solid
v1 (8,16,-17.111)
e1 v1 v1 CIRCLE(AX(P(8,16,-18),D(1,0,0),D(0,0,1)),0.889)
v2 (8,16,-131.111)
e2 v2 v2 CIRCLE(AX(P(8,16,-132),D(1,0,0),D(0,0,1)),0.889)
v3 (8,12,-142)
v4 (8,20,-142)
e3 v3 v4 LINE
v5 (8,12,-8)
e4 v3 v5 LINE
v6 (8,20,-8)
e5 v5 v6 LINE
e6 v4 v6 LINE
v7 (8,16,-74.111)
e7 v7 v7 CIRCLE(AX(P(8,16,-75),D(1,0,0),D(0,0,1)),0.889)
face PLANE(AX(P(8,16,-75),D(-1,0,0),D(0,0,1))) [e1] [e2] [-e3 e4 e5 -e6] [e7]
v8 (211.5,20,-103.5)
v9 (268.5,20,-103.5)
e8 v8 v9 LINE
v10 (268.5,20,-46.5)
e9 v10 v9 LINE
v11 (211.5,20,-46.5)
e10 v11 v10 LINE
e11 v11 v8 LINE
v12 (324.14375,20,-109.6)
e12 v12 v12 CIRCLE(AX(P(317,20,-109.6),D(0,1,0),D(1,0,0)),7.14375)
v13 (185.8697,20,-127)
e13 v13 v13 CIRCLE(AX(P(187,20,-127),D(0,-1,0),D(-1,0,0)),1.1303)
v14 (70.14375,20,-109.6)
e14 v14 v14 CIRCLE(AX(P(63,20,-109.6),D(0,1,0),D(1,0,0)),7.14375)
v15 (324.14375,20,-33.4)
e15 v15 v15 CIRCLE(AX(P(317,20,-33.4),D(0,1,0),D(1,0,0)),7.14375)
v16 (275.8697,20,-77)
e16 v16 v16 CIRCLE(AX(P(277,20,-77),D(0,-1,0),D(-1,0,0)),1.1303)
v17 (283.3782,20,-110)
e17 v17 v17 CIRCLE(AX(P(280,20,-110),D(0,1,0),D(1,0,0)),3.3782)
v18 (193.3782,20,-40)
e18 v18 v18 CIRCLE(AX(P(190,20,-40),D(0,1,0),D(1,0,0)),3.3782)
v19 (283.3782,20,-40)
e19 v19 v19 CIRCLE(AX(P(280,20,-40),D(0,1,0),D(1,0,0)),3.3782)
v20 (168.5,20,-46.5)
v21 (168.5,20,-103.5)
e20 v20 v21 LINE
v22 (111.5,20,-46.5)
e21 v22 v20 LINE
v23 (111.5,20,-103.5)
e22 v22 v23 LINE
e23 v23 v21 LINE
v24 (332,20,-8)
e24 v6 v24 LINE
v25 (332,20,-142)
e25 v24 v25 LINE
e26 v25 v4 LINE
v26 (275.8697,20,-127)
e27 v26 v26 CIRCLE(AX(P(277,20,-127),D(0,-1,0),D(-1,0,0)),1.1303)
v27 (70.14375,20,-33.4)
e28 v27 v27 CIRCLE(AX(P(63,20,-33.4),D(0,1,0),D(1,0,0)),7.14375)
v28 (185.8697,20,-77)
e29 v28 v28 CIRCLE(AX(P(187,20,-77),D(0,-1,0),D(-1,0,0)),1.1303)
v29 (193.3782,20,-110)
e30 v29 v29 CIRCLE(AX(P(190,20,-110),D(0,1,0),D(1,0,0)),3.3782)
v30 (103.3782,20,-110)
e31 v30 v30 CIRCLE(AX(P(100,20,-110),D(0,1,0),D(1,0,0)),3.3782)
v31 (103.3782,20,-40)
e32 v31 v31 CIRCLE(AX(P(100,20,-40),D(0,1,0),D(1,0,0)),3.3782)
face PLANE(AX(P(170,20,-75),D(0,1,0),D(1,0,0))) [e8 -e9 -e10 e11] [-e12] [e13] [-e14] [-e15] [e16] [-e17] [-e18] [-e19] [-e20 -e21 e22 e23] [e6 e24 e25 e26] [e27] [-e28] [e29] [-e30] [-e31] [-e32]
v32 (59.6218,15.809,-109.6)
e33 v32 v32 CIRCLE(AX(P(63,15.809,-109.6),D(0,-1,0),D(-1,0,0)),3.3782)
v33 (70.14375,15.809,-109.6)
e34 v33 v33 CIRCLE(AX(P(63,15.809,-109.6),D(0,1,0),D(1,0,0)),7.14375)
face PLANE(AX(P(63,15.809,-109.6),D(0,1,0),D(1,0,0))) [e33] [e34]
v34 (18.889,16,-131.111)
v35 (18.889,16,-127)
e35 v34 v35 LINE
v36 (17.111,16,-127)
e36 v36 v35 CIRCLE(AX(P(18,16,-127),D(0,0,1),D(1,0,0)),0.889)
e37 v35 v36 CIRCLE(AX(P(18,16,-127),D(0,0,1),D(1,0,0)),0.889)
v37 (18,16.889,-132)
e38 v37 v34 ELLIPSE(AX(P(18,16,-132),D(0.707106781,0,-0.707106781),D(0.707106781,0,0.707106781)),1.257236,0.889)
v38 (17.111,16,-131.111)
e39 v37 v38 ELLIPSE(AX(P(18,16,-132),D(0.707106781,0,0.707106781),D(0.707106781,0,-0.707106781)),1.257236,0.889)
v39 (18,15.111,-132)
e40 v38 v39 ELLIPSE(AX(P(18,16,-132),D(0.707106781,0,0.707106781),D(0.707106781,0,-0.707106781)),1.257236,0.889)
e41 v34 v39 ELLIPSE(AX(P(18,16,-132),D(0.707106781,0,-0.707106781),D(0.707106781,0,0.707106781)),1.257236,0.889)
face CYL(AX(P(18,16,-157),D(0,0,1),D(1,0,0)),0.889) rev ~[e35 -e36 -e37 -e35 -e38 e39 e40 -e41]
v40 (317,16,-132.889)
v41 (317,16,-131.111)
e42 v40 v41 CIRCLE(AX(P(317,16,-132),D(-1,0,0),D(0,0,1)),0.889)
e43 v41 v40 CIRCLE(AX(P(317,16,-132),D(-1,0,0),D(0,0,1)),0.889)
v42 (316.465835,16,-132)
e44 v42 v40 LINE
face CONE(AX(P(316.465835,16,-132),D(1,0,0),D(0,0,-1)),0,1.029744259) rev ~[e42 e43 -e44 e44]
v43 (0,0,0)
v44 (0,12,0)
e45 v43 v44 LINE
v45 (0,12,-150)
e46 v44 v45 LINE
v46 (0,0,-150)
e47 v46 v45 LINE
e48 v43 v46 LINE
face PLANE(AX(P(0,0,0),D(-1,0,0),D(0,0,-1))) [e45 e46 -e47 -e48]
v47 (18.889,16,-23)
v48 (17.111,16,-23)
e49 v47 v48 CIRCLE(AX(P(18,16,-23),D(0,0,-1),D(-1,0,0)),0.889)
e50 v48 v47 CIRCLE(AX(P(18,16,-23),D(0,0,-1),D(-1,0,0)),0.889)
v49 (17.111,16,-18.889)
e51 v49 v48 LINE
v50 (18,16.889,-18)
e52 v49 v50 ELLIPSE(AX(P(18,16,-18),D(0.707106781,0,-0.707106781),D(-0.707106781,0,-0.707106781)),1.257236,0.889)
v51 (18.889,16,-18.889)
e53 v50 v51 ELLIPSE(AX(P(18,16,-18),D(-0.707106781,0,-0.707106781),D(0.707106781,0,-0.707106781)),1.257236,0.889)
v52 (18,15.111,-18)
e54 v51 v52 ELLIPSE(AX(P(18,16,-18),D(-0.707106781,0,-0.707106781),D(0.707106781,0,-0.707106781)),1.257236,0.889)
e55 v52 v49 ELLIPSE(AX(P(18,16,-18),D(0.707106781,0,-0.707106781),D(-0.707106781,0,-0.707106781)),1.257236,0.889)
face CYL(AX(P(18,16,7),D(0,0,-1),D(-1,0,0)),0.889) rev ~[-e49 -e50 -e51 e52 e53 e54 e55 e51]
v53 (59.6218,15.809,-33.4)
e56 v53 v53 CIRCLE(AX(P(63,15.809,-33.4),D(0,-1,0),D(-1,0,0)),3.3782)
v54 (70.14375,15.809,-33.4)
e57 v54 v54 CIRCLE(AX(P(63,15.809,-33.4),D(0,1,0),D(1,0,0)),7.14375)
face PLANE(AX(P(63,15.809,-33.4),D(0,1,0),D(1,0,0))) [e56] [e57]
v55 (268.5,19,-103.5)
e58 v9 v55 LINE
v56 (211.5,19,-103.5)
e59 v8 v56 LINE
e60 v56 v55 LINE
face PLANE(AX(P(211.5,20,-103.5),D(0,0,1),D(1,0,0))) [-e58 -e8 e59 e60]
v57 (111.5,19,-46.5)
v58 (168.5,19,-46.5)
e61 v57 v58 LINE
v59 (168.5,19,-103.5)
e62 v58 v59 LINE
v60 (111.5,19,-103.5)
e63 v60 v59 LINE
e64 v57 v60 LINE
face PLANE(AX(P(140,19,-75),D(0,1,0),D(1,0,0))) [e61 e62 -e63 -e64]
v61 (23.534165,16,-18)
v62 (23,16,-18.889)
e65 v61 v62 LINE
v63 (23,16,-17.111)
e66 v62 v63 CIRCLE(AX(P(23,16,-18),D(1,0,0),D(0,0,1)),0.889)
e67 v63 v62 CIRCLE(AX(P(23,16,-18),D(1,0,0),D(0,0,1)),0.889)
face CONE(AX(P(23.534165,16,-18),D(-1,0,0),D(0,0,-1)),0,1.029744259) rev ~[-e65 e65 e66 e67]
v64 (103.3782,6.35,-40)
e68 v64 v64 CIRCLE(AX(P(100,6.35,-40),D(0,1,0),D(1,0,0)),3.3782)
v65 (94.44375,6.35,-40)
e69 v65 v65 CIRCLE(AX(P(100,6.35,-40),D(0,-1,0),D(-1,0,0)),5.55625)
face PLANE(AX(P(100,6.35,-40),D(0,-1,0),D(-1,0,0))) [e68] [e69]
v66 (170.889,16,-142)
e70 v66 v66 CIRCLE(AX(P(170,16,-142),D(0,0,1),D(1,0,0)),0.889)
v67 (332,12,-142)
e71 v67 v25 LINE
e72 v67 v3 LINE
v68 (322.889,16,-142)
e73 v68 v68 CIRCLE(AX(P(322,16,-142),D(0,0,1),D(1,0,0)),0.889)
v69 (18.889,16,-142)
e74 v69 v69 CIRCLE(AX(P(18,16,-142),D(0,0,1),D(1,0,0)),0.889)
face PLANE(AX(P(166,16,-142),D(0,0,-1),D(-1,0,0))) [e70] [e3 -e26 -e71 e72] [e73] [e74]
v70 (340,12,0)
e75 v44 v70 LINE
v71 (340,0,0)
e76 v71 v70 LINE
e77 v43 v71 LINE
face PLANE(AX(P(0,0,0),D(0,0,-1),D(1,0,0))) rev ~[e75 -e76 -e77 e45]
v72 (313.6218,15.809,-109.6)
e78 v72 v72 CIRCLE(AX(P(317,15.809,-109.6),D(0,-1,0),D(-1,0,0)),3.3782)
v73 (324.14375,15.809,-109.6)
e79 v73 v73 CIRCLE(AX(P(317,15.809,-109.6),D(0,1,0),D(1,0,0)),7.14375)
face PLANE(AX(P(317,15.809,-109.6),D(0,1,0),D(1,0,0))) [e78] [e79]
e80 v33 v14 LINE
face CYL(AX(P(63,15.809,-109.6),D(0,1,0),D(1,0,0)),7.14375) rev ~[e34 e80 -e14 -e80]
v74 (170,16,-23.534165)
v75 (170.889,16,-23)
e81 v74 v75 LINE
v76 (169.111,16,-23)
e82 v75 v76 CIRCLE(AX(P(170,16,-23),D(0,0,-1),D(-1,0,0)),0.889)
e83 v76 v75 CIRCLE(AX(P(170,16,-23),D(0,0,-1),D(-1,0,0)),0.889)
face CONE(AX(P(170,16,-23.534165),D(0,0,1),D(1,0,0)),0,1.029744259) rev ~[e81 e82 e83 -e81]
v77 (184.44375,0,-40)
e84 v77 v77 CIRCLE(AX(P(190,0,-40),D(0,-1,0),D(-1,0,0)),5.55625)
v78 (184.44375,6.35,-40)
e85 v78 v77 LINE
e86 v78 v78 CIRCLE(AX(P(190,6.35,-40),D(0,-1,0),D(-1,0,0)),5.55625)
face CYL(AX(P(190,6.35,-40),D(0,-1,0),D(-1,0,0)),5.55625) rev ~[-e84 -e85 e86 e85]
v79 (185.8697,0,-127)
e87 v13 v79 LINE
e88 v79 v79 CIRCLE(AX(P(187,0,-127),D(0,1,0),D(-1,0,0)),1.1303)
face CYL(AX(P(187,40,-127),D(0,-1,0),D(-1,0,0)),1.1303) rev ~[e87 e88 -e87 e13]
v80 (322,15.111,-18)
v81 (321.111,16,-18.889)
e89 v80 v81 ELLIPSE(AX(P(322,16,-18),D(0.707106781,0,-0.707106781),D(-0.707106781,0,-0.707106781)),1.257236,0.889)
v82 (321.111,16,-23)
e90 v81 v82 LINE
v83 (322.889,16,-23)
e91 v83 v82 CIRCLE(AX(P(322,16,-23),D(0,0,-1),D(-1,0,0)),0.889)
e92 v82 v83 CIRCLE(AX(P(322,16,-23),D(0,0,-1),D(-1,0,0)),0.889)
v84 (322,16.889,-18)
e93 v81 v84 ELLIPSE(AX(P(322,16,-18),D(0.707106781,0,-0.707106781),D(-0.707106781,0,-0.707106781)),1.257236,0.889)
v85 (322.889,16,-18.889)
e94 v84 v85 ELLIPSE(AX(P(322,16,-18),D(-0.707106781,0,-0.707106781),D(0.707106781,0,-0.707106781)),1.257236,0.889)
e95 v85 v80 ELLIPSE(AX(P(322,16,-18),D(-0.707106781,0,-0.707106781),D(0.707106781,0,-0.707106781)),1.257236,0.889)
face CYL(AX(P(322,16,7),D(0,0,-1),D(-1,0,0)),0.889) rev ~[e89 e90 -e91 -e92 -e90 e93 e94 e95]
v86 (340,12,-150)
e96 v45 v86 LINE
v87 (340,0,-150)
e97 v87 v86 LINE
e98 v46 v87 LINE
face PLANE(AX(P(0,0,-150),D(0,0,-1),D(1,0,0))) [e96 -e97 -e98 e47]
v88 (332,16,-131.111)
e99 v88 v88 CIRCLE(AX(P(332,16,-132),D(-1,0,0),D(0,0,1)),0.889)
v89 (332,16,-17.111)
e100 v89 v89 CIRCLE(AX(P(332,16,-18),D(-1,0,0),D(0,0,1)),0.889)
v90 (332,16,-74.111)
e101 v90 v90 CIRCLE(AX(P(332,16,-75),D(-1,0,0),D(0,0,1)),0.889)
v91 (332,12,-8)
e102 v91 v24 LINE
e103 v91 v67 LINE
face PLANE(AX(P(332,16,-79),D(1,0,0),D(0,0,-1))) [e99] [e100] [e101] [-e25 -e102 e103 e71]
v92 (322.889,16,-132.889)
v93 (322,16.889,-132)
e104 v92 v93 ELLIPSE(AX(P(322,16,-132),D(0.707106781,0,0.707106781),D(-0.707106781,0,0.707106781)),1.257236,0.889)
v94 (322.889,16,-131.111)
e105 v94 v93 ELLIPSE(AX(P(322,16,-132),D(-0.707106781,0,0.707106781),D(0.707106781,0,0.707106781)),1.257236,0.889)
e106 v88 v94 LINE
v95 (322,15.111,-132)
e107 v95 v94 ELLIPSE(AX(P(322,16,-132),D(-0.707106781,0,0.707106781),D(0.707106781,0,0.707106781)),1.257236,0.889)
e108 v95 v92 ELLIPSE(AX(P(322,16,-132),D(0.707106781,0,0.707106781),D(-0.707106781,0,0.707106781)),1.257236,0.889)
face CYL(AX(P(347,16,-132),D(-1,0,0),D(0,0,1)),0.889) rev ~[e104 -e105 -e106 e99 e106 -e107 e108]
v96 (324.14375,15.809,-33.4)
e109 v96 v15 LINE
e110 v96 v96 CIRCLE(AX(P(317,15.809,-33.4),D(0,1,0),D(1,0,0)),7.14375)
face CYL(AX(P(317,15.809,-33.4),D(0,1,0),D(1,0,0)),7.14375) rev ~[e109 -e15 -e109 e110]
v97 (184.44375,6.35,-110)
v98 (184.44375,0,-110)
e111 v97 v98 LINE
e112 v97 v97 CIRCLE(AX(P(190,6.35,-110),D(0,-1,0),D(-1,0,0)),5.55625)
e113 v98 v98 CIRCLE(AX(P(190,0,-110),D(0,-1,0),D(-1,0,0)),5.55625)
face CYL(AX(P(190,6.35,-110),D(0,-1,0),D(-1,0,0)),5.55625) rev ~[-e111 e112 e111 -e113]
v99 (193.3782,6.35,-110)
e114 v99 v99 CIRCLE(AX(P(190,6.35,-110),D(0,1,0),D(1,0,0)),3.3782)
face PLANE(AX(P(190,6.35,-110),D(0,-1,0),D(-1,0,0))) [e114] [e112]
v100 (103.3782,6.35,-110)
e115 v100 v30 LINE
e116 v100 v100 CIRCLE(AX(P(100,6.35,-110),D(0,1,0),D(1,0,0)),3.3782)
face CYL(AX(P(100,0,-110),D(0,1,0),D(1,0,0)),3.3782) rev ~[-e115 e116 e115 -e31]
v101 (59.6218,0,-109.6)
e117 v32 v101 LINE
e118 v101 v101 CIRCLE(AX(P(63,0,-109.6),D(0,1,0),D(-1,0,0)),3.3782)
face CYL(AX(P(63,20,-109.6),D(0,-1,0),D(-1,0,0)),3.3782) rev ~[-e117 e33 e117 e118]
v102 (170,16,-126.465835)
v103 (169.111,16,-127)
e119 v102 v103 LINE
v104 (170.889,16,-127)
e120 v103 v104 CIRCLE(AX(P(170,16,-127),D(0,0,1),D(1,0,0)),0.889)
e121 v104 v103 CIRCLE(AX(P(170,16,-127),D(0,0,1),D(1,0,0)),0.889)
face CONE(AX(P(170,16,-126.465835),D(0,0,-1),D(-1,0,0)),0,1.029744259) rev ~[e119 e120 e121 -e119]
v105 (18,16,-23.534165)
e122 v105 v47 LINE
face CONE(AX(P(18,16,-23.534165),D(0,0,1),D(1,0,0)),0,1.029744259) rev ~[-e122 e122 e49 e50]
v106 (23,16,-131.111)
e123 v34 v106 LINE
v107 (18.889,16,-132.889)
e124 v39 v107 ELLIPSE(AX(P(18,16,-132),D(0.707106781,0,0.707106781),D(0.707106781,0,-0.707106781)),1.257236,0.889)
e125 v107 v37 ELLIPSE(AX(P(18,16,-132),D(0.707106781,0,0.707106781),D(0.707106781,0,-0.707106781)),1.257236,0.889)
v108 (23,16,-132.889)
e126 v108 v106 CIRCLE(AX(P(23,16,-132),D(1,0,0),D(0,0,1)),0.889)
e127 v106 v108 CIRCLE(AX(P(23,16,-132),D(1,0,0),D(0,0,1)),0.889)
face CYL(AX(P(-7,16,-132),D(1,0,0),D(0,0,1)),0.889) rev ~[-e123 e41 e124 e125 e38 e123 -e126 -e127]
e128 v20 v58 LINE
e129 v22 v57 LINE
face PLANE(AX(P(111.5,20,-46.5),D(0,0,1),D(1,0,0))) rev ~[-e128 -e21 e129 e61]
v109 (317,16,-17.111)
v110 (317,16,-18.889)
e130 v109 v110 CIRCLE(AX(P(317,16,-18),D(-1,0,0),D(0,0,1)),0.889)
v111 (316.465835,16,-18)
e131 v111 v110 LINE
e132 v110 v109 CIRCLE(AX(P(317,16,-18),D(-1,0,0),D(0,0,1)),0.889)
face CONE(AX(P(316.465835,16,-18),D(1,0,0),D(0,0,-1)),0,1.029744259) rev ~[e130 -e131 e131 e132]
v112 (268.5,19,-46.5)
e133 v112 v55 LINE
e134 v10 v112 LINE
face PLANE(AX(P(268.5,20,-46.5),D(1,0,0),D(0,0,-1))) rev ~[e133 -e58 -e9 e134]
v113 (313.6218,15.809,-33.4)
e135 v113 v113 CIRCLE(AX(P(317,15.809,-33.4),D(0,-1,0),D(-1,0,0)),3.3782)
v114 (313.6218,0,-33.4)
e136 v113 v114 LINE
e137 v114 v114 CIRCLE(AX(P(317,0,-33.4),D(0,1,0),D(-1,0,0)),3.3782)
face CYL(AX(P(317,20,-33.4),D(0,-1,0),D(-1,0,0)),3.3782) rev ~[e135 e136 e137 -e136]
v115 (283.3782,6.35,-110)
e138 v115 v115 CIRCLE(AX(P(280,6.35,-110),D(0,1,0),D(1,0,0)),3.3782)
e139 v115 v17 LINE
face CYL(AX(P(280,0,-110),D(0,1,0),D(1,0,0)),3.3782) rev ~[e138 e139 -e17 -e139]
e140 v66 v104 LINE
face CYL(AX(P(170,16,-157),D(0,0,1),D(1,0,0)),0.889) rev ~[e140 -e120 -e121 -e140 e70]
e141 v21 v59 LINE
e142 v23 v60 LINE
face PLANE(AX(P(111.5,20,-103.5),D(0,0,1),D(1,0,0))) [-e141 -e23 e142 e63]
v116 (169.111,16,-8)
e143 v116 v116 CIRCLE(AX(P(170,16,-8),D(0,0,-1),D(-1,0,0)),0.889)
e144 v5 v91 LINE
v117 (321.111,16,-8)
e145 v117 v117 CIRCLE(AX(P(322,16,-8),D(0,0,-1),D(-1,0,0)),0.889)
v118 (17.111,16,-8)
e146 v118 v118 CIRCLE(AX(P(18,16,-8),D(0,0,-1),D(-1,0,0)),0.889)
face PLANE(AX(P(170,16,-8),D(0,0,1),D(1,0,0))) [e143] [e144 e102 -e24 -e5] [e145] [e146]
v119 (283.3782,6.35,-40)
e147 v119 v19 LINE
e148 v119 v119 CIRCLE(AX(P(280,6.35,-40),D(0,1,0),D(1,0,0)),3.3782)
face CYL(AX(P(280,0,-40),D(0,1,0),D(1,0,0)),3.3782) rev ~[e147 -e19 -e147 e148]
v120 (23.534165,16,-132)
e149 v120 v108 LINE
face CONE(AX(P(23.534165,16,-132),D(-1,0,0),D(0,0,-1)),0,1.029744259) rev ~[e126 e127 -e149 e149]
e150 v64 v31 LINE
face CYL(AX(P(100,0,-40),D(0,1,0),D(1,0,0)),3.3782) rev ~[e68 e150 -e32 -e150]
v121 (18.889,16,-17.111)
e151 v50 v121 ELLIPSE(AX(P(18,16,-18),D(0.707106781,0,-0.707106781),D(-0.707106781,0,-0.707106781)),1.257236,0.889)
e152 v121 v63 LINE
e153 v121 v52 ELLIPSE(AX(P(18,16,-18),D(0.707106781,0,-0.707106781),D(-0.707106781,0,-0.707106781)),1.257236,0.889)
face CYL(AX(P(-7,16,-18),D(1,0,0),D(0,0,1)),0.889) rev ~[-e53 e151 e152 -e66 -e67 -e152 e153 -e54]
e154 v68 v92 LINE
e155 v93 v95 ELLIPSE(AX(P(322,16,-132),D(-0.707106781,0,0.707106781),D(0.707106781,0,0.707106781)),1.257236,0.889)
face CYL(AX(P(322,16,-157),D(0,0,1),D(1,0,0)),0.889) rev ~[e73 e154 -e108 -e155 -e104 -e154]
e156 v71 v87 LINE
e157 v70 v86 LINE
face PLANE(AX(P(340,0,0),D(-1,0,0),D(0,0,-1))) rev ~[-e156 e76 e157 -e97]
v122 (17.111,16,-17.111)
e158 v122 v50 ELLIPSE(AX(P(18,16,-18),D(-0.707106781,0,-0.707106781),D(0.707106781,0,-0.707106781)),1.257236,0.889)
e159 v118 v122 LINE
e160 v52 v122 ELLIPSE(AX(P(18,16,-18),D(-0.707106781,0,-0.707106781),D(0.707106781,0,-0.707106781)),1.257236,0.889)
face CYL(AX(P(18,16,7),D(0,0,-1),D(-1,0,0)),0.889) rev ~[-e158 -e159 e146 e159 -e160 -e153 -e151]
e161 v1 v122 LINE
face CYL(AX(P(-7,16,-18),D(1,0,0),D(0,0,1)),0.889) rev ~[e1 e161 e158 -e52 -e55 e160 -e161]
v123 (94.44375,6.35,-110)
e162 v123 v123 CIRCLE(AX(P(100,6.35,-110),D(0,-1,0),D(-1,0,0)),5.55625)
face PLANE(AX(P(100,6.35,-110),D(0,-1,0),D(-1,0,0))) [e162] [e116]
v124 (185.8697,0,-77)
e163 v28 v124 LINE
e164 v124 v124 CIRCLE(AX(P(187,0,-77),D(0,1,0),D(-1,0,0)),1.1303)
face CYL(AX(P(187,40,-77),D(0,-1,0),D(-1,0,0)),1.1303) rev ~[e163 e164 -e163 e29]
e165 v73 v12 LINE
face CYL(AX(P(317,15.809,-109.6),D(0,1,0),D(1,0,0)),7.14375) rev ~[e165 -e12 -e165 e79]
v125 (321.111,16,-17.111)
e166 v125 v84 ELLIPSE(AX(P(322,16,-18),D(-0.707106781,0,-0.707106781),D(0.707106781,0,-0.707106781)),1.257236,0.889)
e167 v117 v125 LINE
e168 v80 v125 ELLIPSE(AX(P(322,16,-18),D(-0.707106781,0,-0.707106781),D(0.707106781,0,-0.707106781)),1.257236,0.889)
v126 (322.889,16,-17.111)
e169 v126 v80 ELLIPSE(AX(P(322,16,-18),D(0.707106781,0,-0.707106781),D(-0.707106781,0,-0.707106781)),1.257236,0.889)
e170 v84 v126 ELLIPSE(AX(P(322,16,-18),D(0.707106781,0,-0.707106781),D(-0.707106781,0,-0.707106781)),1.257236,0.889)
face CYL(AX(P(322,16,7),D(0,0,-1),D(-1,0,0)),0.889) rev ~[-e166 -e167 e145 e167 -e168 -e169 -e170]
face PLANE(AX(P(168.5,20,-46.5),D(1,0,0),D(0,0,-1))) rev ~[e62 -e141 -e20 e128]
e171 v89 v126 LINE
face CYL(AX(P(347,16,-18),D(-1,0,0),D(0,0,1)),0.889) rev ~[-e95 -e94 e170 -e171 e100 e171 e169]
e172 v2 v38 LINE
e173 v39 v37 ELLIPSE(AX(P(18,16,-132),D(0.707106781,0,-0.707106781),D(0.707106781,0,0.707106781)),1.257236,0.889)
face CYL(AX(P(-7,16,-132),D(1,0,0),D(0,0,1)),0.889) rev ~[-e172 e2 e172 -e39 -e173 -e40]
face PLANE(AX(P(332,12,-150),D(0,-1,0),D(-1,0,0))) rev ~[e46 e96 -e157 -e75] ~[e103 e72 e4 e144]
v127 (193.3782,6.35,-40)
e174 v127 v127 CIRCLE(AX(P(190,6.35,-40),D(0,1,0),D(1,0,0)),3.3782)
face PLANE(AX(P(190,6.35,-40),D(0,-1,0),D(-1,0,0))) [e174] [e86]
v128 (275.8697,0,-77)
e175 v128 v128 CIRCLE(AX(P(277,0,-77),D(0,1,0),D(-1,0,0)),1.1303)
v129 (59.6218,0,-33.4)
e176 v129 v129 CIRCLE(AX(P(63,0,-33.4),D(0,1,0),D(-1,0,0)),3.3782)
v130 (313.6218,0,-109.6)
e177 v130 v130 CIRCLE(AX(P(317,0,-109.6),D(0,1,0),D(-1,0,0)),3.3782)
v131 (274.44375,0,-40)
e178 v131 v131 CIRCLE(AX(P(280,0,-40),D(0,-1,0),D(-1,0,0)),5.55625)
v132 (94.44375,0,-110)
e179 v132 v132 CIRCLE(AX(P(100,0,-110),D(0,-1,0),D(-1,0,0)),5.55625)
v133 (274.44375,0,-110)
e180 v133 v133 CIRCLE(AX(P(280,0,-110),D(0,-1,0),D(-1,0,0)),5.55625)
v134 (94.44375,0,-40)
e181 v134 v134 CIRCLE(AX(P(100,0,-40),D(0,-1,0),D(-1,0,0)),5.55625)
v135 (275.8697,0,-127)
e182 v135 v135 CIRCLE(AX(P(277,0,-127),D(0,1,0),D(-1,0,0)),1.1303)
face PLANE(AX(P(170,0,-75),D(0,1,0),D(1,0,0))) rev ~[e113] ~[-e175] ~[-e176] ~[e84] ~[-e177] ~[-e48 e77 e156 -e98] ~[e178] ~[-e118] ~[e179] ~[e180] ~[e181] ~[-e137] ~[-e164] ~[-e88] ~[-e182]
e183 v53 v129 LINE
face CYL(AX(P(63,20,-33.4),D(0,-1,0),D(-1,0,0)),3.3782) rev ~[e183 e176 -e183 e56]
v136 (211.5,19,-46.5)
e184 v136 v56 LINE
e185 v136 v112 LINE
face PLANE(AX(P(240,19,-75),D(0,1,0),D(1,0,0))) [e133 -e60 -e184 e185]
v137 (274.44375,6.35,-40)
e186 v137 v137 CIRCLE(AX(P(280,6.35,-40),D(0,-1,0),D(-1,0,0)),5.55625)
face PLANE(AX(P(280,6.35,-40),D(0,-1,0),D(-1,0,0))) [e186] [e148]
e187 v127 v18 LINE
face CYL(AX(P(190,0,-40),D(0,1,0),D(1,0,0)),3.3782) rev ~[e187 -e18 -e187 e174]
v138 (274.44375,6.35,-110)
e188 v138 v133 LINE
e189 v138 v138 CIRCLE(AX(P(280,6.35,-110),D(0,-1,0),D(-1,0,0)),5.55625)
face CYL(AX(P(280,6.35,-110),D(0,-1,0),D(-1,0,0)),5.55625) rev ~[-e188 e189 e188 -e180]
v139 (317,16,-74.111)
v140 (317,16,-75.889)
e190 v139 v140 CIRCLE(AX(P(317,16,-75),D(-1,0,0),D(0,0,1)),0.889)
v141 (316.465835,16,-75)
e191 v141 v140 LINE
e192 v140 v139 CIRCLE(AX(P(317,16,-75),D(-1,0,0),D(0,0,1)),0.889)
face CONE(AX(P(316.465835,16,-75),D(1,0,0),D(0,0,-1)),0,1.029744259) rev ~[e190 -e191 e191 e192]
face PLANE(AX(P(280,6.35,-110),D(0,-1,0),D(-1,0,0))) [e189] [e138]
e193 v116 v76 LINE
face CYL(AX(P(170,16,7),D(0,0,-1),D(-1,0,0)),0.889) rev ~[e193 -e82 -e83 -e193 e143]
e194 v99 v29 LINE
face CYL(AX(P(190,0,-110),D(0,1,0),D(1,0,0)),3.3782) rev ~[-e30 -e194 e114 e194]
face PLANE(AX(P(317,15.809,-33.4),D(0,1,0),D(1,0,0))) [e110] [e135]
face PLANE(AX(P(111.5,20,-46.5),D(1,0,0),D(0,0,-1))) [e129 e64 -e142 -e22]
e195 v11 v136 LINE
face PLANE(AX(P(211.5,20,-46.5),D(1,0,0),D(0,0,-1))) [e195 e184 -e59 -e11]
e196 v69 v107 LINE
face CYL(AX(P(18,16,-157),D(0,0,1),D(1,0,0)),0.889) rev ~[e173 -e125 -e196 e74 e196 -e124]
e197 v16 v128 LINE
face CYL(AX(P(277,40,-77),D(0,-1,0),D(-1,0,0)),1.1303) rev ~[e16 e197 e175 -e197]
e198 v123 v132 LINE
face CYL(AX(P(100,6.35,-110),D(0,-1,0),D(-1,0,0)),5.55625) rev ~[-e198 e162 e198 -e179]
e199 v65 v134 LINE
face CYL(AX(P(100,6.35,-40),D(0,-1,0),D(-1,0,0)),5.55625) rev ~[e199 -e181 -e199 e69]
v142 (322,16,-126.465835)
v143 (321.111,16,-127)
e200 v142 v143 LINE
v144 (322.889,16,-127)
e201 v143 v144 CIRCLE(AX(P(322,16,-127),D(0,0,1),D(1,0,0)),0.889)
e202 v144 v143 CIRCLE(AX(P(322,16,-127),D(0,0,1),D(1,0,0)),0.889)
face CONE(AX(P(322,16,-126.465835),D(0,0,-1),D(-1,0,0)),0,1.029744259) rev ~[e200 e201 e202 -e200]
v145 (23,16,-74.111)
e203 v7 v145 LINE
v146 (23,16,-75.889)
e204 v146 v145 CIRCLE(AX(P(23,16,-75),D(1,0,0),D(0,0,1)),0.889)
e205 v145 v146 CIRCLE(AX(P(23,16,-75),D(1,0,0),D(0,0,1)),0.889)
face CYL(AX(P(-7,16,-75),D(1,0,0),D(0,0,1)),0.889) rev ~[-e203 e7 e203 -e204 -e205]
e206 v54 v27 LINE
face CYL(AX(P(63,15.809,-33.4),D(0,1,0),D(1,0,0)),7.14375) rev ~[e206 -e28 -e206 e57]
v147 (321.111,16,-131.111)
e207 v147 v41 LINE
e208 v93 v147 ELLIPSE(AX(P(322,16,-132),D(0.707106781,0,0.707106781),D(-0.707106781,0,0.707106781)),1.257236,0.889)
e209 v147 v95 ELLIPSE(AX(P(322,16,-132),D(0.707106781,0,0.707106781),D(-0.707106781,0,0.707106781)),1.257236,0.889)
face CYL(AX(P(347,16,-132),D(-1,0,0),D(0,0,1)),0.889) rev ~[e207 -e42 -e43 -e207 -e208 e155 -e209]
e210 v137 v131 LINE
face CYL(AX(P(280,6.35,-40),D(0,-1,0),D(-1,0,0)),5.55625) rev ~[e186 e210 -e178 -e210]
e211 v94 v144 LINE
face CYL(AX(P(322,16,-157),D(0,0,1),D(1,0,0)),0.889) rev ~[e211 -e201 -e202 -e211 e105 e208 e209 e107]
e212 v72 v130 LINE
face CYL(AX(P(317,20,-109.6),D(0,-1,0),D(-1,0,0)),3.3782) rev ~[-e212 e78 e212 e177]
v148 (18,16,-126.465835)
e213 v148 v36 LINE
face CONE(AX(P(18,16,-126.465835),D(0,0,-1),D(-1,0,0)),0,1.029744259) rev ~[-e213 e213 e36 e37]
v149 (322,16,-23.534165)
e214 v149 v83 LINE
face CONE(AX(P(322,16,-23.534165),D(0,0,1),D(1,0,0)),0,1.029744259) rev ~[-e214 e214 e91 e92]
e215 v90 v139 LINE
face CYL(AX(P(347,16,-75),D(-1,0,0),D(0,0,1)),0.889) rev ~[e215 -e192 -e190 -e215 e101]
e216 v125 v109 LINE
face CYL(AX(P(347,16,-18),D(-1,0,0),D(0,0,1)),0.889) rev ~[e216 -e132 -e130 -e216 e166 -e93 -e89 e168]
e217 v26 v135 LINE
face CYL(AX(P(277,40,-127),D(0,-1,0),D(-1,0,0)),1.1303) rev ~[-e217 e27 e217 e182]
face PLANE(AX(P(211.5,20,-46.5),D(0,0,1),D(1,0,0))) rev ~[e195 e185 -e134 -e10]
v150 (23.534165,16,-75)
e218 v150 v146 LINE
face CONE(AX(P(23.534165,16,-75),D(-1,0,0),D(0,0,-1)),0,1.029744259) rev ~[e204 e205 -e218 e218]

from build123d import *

# Parameters (mm, degrees)
SKETCH1_W                                            = 340
SKETCH1_H                                            = 150
BOSS_EXTRUDE1_DEPTH                                  = 20
LASERCAVITYMOUNTINGHOLE_CBORE_FOR_1_4_SO_D           = 6.7564
LASERCAVITYMOUNTINGHOLE_CBORE_FOR_1_4_SO_CBORE_D     = 11.1125
LASERCAVITYMOUNTINGHOLE_CBORE_FOR_1_4_SO_CBORE_DEPTH = 6.35
SKETCH5_W                                            = 57
SKETCH5_H                                            = 57
TEC_GROOVE_DEPTH                                     = 1
SKETCH6_W                                            = 340
SKETCH6_H                                            = 8
WALL1_DEPTH                                          = 8
SKETCH7_W                                            = 142
SKETCH7_H                                            = 8
WALL2_DEPTH                                          = 8
SKETCH9_W                                            = 332
SKETCH9_H                                            = 8
WALL3_DEPTH                                          = 8
SKETCH10_W                                           = 134
SKETCH10_H                                           = 8
WALL4_DEPTH                                          = 8
F_2_56_TAPPED_HOLE1_D                                = 1.778
F_2_56_TAPPED_HOLE1_DEPTH                            = 15
F_2_56_TAPPED_HOLE1_TIP                              = 0.53416509
F_2_56_TAPPED_HOLE2_D                                = 1.778
F_2_56_TAPPED_HOLE2_DEPTH                            = 15
F_2_56_TAPPED_HOLE2_TIP                              = 0.53416509
F_2_56_TAPPED_HOLE3_D                                = 1.778
F_2_56_TAPPED_HOLE3_DEPTH                            = 15
F_2_56_TAPPED_HOLE3_TIP                              = 0.53416509
ELECTRONICBOARDMOUNTING_D                            = 2.2606
ELECTRONICBOARDMOUNTING_DEPTH                        = 20
ELECTRONICBOARDMOUNTING_TIP                          = 0.679152758
F_2_56_TAPPED_HOLE4_D                                = 1.778
F_2_56_TAPPED_HOLE4_DEPTH                            = 15
F_2_56_TAPPED_HOLE4_TIP                              = 0.53416509
OPTICALTABLEMOUNTINGHOLES_CBORE_FOR_1_4_D            = 6.7564
OPTICALTABLEMOUNTINGHOLES_CBORE_FOR_1_4_DEPTH        = 20
OPTICALTABLEMOUNTINGHOLES_CBORE_FOR_1_4_CBORE_D      = 14.2875
OPTICALTABLEMOUNTINGHOLES_CBORE_FOR_1_4_CBORE_DEPTH  = 4.191
OPTICALTABLEMOUNTINGHOLES_CBORE_FOR_1_4_TIP          = 2.029827343


with BuildPart() as part:
    # Sketch1 → Boss-Extrude1 (new body)
    with BuildSketch(Plane(origin=(0, 0, 0), x_dir=(1, 0, 0), z_dir=(0, 1, 0))):
        with Locations((170, 75)):
            Rectangle(SKETCH1_W, SKETCH1_H)
    extrude(amount=BOSS_EXTRUDE1_DEPTH)

    # LaserCavityMountingHole_CBORE for 1/4 Socket Head Cap Screw1 (through all)
    with Locations(Plane(origin=(0, 0, 0), x_dir=(-1, 0, 0), z_dir=(0, -1, 0))):
        with Locations((-100, 40), (-190, 40), (-280, 40), (-280, 110), (-190, 110), (-100, 110)):
            CounterBoreHole(LASERCAVITYMOUNTINGHOLE_CBORE_FOR_1_4_SO_D / 2, LASERCAVITYMOUNTINGHOLE_CBORE_FOR_1_4_SO_CBORE_D / 2, LASERCAVITYMOUNTINGHOLE_CBORE_FOR_1_4_SO_CBORE_DEPTH)

    # Sketch5 → TEC_groove (cut)
    with BuildSketch(Plane(origin=(0, 20, 0), x_dir=(1, 0, 0), z_dir=(0, 1, 0))):
        with Locations((140, 75)):
            Rectangle(SKETCH5_W, SKETCH5_H)
        with Locations((240, 75)):
            Rectangle(SKETCH5_W, SKETCH5_H)
    extrude(amount=-TEC_GROOVE_DEPTH, mode=Mode.SUBTRACT)

    # Sketch6 → Wall1 (cut)
    with BuildSketch(Plane.XY):
        with Locations((170, 16)):
            Rectangle(SKETCH6_W, SKETCH6_H)
    extrude(amount=-WALL1_DEPTH, mode=Mode.SUBTRACT)

    # Sketch7 → Wall2 (cut)
    with BuildSketch(Plane(origin=(340, 0, 0), x_dir=(0, 0, -1), z_dir=(1, 0, 0))):
        with Locations((79, 16)):
            Rectangle(SKETCH7_W, SKETCH7_H)
    extrude(amount=-WALL2_DEPTH, mode=Mode.SUBTRACT)

    # Sketch9 → Wall3 (cut)
    with BuildSketch(Plane(origin=(0, 0, -150), x_dir=(-1, 0, 0), z_dir=(0, 0, -1))):
        with Locations((-166, 16)):
            Rectangle(SKETCH9_W, SKETCH9_H)
    extrude(amount=-WALL3_DEPTH, mode=Mode.SUBTRACT)

    # Sketch10 → Wall4 (cut)
    with BuildSketch(Plane.ZY):
        with Locations((-75, 16)):
            Rectangle(SKETCH10_W, SKETCH10_H)
    extrude(amount=-WALL4_DEPTH, mode=Mode.SUBTRACT)

    # #2-56 Tapped Hole1
    with Locations(Plane.XY.offset(-8)):
        with Locations((18, 16), (322, 16), (170, 16)):
            Hole(F_2_56_TAPPED_HOLE1_D / 2, depth=F_2_56_TAPPED_HOLE1_DEPTH)
            with Locations((0, 0, -(F_2_56_TAPPED_HOLE1_DEPTH + F_2_56_TAPPED_HOLE1_TIP / 2))):  # 118° drill point
                Cone(0, F_2_56_TAPPED_HOLE1_D / 2, F_2_56_TAPPED_HOLE1_TIP, mode=Mode.SUBTRACT)

    # #2-56 Tapped Hole2
    with Locations(Plane(origin=(8, 16, -132), x_dir=(0, 0, -1), z_dir=(-1, 0, 0))):
        with Locations((0, 0), (-114, 0), (-57, 0)):
            Hole(F_2_56_TAPPED_HOLE2_D / 2, depth=F_2_56_TAPPED_HOLE2_DEPTH)
            with Locations((0, 0, -(F_2_56_TAPPED_HOLE2_DEPTH + F_2_56_TAPPED_HOLE2_TIP / 2))):  # 118° drill point
                Cone(0, F_2_56_TAPPED_HOLE2_D / 2, F_2_56_TAPPED_HOLE2_TIP, mode=Mode.SUBTRACT)

    # #2-56 Tapped Hole3
    with Locations(Plane(origin=(0, 0, -142), x_dir=(-1, 0, 0), z_dir=(0, 0, -1))):
        with Locations((-322, 16), (-18, 16), (-170, 16)):
            Hole(F_2_56_TAPPED_HOLE3_D / 2, depth=F_2_56_TAPPED_HOLE3_DEPTH)
            with Locations((0, 0, -(F_2_56_TAPPED_HOLE3_DEPTH + F_2_56_TAPPED_HOLE3_TIP / 2))):  # 118° drill point
                Cone(0, F_2_56_TAPPED_HOLE3_D / 2, F_2_56_TAPPED_HOLE3_TIP, mode=Mode.SUBTRACT)

    # ElectronicBoardMounting
    with Locations(Plane(origin=(0, 20, 0), x_dir=(1, 0, 0), z_dir=(0, 1, 0))):
        with Locations((187, 127), (277, 127), (277, 77), (187, 77)):
            Hole(ELECTRONICBOARDMOUNTING_D / 2, depth=ELECTRONICBOARDMOUNTING_DEPTH)
            with Locations((0, 0, -(ELECTRONICBOARDMOUNTING_DEPTH + ELECTRONICBOARDMOUNTING_TIP / 2))):  # 118° drill point
                Cone(0, ELECTRONICBOARDMOUNTING_D / 2, ELECTRONICBOARDMOUNTING_TIP, mode=Mode.SUBTRACT)

    # #2-56 Tapped Hole4
    with Locations(Plane(origin=(332, 0, 0), x_dir=(0, 0, -1), z_dir=(1, 0, 0))):
        with Locations((18, 16), (132, 16), (75, 16)):
            Hole(F_2_56_TAPPED_HOLE4_D / 2, depth=F_2_56_TAPPED_HOLE4_DEPTH)
            with Locations((0, 0, -(F_2_56_TAPPED_HOLE4_DEPTH + F_2_56_TAPPED_HOLE4_TIP / 2))):  # 118° drill point
                Cone(0, F_2_56_TAPPED_HOLE4_D / 2, F_2_56_TAPPED_HOLE4_TIP, mode=Mode.SUBTRACT)

    # OpticalTableMountingHoles_CBORE for 1/4 Binding Head Machine Screw1
    with Locations(Plane(origin=(0, 20, 0), x_dir=(1, 0, 0), z_dir=(0, 1, 0))):
        with Locations((63, 109.6), (317, 109.6), (317, 33.4), (63, 33.4)):
            CounterBoreHole(OPTICALTABLEMOUNTINGHOLES_CBORE_FOR_1_4_D / 2, OPTICALTABLEMOUNTINGHOLES_CBORE_FOR_1_4_CBORE_D / 2, OPTICALTABLEMOUNTINGHOLES_CBORE_FOR_1_4_CBORE_DEPTH, depth=OPTICALTABLEMOUNTINGHOLES_CBORE_FOR_1_4_DEPTH)
            with Locations((0, 0, -(OPTICALTABLEMOUNTINGHOLES_CBORE_FOR_1_4_DEPTH + OPTICALTABLEMOUNTINGHOLES_CBORE_FOR_1_4_TIP / 2))):  # 118° drill point
                Cone(0, OPTICALTABLEMOUNTINGHOLES_CBORE_FOR_1_4_D / 2, OPTICALTABLEMOUNTINGHOLES_CBORE_FOR_1_4_TIP, mode=Mode.SUBTRACT)


solid = part.part
